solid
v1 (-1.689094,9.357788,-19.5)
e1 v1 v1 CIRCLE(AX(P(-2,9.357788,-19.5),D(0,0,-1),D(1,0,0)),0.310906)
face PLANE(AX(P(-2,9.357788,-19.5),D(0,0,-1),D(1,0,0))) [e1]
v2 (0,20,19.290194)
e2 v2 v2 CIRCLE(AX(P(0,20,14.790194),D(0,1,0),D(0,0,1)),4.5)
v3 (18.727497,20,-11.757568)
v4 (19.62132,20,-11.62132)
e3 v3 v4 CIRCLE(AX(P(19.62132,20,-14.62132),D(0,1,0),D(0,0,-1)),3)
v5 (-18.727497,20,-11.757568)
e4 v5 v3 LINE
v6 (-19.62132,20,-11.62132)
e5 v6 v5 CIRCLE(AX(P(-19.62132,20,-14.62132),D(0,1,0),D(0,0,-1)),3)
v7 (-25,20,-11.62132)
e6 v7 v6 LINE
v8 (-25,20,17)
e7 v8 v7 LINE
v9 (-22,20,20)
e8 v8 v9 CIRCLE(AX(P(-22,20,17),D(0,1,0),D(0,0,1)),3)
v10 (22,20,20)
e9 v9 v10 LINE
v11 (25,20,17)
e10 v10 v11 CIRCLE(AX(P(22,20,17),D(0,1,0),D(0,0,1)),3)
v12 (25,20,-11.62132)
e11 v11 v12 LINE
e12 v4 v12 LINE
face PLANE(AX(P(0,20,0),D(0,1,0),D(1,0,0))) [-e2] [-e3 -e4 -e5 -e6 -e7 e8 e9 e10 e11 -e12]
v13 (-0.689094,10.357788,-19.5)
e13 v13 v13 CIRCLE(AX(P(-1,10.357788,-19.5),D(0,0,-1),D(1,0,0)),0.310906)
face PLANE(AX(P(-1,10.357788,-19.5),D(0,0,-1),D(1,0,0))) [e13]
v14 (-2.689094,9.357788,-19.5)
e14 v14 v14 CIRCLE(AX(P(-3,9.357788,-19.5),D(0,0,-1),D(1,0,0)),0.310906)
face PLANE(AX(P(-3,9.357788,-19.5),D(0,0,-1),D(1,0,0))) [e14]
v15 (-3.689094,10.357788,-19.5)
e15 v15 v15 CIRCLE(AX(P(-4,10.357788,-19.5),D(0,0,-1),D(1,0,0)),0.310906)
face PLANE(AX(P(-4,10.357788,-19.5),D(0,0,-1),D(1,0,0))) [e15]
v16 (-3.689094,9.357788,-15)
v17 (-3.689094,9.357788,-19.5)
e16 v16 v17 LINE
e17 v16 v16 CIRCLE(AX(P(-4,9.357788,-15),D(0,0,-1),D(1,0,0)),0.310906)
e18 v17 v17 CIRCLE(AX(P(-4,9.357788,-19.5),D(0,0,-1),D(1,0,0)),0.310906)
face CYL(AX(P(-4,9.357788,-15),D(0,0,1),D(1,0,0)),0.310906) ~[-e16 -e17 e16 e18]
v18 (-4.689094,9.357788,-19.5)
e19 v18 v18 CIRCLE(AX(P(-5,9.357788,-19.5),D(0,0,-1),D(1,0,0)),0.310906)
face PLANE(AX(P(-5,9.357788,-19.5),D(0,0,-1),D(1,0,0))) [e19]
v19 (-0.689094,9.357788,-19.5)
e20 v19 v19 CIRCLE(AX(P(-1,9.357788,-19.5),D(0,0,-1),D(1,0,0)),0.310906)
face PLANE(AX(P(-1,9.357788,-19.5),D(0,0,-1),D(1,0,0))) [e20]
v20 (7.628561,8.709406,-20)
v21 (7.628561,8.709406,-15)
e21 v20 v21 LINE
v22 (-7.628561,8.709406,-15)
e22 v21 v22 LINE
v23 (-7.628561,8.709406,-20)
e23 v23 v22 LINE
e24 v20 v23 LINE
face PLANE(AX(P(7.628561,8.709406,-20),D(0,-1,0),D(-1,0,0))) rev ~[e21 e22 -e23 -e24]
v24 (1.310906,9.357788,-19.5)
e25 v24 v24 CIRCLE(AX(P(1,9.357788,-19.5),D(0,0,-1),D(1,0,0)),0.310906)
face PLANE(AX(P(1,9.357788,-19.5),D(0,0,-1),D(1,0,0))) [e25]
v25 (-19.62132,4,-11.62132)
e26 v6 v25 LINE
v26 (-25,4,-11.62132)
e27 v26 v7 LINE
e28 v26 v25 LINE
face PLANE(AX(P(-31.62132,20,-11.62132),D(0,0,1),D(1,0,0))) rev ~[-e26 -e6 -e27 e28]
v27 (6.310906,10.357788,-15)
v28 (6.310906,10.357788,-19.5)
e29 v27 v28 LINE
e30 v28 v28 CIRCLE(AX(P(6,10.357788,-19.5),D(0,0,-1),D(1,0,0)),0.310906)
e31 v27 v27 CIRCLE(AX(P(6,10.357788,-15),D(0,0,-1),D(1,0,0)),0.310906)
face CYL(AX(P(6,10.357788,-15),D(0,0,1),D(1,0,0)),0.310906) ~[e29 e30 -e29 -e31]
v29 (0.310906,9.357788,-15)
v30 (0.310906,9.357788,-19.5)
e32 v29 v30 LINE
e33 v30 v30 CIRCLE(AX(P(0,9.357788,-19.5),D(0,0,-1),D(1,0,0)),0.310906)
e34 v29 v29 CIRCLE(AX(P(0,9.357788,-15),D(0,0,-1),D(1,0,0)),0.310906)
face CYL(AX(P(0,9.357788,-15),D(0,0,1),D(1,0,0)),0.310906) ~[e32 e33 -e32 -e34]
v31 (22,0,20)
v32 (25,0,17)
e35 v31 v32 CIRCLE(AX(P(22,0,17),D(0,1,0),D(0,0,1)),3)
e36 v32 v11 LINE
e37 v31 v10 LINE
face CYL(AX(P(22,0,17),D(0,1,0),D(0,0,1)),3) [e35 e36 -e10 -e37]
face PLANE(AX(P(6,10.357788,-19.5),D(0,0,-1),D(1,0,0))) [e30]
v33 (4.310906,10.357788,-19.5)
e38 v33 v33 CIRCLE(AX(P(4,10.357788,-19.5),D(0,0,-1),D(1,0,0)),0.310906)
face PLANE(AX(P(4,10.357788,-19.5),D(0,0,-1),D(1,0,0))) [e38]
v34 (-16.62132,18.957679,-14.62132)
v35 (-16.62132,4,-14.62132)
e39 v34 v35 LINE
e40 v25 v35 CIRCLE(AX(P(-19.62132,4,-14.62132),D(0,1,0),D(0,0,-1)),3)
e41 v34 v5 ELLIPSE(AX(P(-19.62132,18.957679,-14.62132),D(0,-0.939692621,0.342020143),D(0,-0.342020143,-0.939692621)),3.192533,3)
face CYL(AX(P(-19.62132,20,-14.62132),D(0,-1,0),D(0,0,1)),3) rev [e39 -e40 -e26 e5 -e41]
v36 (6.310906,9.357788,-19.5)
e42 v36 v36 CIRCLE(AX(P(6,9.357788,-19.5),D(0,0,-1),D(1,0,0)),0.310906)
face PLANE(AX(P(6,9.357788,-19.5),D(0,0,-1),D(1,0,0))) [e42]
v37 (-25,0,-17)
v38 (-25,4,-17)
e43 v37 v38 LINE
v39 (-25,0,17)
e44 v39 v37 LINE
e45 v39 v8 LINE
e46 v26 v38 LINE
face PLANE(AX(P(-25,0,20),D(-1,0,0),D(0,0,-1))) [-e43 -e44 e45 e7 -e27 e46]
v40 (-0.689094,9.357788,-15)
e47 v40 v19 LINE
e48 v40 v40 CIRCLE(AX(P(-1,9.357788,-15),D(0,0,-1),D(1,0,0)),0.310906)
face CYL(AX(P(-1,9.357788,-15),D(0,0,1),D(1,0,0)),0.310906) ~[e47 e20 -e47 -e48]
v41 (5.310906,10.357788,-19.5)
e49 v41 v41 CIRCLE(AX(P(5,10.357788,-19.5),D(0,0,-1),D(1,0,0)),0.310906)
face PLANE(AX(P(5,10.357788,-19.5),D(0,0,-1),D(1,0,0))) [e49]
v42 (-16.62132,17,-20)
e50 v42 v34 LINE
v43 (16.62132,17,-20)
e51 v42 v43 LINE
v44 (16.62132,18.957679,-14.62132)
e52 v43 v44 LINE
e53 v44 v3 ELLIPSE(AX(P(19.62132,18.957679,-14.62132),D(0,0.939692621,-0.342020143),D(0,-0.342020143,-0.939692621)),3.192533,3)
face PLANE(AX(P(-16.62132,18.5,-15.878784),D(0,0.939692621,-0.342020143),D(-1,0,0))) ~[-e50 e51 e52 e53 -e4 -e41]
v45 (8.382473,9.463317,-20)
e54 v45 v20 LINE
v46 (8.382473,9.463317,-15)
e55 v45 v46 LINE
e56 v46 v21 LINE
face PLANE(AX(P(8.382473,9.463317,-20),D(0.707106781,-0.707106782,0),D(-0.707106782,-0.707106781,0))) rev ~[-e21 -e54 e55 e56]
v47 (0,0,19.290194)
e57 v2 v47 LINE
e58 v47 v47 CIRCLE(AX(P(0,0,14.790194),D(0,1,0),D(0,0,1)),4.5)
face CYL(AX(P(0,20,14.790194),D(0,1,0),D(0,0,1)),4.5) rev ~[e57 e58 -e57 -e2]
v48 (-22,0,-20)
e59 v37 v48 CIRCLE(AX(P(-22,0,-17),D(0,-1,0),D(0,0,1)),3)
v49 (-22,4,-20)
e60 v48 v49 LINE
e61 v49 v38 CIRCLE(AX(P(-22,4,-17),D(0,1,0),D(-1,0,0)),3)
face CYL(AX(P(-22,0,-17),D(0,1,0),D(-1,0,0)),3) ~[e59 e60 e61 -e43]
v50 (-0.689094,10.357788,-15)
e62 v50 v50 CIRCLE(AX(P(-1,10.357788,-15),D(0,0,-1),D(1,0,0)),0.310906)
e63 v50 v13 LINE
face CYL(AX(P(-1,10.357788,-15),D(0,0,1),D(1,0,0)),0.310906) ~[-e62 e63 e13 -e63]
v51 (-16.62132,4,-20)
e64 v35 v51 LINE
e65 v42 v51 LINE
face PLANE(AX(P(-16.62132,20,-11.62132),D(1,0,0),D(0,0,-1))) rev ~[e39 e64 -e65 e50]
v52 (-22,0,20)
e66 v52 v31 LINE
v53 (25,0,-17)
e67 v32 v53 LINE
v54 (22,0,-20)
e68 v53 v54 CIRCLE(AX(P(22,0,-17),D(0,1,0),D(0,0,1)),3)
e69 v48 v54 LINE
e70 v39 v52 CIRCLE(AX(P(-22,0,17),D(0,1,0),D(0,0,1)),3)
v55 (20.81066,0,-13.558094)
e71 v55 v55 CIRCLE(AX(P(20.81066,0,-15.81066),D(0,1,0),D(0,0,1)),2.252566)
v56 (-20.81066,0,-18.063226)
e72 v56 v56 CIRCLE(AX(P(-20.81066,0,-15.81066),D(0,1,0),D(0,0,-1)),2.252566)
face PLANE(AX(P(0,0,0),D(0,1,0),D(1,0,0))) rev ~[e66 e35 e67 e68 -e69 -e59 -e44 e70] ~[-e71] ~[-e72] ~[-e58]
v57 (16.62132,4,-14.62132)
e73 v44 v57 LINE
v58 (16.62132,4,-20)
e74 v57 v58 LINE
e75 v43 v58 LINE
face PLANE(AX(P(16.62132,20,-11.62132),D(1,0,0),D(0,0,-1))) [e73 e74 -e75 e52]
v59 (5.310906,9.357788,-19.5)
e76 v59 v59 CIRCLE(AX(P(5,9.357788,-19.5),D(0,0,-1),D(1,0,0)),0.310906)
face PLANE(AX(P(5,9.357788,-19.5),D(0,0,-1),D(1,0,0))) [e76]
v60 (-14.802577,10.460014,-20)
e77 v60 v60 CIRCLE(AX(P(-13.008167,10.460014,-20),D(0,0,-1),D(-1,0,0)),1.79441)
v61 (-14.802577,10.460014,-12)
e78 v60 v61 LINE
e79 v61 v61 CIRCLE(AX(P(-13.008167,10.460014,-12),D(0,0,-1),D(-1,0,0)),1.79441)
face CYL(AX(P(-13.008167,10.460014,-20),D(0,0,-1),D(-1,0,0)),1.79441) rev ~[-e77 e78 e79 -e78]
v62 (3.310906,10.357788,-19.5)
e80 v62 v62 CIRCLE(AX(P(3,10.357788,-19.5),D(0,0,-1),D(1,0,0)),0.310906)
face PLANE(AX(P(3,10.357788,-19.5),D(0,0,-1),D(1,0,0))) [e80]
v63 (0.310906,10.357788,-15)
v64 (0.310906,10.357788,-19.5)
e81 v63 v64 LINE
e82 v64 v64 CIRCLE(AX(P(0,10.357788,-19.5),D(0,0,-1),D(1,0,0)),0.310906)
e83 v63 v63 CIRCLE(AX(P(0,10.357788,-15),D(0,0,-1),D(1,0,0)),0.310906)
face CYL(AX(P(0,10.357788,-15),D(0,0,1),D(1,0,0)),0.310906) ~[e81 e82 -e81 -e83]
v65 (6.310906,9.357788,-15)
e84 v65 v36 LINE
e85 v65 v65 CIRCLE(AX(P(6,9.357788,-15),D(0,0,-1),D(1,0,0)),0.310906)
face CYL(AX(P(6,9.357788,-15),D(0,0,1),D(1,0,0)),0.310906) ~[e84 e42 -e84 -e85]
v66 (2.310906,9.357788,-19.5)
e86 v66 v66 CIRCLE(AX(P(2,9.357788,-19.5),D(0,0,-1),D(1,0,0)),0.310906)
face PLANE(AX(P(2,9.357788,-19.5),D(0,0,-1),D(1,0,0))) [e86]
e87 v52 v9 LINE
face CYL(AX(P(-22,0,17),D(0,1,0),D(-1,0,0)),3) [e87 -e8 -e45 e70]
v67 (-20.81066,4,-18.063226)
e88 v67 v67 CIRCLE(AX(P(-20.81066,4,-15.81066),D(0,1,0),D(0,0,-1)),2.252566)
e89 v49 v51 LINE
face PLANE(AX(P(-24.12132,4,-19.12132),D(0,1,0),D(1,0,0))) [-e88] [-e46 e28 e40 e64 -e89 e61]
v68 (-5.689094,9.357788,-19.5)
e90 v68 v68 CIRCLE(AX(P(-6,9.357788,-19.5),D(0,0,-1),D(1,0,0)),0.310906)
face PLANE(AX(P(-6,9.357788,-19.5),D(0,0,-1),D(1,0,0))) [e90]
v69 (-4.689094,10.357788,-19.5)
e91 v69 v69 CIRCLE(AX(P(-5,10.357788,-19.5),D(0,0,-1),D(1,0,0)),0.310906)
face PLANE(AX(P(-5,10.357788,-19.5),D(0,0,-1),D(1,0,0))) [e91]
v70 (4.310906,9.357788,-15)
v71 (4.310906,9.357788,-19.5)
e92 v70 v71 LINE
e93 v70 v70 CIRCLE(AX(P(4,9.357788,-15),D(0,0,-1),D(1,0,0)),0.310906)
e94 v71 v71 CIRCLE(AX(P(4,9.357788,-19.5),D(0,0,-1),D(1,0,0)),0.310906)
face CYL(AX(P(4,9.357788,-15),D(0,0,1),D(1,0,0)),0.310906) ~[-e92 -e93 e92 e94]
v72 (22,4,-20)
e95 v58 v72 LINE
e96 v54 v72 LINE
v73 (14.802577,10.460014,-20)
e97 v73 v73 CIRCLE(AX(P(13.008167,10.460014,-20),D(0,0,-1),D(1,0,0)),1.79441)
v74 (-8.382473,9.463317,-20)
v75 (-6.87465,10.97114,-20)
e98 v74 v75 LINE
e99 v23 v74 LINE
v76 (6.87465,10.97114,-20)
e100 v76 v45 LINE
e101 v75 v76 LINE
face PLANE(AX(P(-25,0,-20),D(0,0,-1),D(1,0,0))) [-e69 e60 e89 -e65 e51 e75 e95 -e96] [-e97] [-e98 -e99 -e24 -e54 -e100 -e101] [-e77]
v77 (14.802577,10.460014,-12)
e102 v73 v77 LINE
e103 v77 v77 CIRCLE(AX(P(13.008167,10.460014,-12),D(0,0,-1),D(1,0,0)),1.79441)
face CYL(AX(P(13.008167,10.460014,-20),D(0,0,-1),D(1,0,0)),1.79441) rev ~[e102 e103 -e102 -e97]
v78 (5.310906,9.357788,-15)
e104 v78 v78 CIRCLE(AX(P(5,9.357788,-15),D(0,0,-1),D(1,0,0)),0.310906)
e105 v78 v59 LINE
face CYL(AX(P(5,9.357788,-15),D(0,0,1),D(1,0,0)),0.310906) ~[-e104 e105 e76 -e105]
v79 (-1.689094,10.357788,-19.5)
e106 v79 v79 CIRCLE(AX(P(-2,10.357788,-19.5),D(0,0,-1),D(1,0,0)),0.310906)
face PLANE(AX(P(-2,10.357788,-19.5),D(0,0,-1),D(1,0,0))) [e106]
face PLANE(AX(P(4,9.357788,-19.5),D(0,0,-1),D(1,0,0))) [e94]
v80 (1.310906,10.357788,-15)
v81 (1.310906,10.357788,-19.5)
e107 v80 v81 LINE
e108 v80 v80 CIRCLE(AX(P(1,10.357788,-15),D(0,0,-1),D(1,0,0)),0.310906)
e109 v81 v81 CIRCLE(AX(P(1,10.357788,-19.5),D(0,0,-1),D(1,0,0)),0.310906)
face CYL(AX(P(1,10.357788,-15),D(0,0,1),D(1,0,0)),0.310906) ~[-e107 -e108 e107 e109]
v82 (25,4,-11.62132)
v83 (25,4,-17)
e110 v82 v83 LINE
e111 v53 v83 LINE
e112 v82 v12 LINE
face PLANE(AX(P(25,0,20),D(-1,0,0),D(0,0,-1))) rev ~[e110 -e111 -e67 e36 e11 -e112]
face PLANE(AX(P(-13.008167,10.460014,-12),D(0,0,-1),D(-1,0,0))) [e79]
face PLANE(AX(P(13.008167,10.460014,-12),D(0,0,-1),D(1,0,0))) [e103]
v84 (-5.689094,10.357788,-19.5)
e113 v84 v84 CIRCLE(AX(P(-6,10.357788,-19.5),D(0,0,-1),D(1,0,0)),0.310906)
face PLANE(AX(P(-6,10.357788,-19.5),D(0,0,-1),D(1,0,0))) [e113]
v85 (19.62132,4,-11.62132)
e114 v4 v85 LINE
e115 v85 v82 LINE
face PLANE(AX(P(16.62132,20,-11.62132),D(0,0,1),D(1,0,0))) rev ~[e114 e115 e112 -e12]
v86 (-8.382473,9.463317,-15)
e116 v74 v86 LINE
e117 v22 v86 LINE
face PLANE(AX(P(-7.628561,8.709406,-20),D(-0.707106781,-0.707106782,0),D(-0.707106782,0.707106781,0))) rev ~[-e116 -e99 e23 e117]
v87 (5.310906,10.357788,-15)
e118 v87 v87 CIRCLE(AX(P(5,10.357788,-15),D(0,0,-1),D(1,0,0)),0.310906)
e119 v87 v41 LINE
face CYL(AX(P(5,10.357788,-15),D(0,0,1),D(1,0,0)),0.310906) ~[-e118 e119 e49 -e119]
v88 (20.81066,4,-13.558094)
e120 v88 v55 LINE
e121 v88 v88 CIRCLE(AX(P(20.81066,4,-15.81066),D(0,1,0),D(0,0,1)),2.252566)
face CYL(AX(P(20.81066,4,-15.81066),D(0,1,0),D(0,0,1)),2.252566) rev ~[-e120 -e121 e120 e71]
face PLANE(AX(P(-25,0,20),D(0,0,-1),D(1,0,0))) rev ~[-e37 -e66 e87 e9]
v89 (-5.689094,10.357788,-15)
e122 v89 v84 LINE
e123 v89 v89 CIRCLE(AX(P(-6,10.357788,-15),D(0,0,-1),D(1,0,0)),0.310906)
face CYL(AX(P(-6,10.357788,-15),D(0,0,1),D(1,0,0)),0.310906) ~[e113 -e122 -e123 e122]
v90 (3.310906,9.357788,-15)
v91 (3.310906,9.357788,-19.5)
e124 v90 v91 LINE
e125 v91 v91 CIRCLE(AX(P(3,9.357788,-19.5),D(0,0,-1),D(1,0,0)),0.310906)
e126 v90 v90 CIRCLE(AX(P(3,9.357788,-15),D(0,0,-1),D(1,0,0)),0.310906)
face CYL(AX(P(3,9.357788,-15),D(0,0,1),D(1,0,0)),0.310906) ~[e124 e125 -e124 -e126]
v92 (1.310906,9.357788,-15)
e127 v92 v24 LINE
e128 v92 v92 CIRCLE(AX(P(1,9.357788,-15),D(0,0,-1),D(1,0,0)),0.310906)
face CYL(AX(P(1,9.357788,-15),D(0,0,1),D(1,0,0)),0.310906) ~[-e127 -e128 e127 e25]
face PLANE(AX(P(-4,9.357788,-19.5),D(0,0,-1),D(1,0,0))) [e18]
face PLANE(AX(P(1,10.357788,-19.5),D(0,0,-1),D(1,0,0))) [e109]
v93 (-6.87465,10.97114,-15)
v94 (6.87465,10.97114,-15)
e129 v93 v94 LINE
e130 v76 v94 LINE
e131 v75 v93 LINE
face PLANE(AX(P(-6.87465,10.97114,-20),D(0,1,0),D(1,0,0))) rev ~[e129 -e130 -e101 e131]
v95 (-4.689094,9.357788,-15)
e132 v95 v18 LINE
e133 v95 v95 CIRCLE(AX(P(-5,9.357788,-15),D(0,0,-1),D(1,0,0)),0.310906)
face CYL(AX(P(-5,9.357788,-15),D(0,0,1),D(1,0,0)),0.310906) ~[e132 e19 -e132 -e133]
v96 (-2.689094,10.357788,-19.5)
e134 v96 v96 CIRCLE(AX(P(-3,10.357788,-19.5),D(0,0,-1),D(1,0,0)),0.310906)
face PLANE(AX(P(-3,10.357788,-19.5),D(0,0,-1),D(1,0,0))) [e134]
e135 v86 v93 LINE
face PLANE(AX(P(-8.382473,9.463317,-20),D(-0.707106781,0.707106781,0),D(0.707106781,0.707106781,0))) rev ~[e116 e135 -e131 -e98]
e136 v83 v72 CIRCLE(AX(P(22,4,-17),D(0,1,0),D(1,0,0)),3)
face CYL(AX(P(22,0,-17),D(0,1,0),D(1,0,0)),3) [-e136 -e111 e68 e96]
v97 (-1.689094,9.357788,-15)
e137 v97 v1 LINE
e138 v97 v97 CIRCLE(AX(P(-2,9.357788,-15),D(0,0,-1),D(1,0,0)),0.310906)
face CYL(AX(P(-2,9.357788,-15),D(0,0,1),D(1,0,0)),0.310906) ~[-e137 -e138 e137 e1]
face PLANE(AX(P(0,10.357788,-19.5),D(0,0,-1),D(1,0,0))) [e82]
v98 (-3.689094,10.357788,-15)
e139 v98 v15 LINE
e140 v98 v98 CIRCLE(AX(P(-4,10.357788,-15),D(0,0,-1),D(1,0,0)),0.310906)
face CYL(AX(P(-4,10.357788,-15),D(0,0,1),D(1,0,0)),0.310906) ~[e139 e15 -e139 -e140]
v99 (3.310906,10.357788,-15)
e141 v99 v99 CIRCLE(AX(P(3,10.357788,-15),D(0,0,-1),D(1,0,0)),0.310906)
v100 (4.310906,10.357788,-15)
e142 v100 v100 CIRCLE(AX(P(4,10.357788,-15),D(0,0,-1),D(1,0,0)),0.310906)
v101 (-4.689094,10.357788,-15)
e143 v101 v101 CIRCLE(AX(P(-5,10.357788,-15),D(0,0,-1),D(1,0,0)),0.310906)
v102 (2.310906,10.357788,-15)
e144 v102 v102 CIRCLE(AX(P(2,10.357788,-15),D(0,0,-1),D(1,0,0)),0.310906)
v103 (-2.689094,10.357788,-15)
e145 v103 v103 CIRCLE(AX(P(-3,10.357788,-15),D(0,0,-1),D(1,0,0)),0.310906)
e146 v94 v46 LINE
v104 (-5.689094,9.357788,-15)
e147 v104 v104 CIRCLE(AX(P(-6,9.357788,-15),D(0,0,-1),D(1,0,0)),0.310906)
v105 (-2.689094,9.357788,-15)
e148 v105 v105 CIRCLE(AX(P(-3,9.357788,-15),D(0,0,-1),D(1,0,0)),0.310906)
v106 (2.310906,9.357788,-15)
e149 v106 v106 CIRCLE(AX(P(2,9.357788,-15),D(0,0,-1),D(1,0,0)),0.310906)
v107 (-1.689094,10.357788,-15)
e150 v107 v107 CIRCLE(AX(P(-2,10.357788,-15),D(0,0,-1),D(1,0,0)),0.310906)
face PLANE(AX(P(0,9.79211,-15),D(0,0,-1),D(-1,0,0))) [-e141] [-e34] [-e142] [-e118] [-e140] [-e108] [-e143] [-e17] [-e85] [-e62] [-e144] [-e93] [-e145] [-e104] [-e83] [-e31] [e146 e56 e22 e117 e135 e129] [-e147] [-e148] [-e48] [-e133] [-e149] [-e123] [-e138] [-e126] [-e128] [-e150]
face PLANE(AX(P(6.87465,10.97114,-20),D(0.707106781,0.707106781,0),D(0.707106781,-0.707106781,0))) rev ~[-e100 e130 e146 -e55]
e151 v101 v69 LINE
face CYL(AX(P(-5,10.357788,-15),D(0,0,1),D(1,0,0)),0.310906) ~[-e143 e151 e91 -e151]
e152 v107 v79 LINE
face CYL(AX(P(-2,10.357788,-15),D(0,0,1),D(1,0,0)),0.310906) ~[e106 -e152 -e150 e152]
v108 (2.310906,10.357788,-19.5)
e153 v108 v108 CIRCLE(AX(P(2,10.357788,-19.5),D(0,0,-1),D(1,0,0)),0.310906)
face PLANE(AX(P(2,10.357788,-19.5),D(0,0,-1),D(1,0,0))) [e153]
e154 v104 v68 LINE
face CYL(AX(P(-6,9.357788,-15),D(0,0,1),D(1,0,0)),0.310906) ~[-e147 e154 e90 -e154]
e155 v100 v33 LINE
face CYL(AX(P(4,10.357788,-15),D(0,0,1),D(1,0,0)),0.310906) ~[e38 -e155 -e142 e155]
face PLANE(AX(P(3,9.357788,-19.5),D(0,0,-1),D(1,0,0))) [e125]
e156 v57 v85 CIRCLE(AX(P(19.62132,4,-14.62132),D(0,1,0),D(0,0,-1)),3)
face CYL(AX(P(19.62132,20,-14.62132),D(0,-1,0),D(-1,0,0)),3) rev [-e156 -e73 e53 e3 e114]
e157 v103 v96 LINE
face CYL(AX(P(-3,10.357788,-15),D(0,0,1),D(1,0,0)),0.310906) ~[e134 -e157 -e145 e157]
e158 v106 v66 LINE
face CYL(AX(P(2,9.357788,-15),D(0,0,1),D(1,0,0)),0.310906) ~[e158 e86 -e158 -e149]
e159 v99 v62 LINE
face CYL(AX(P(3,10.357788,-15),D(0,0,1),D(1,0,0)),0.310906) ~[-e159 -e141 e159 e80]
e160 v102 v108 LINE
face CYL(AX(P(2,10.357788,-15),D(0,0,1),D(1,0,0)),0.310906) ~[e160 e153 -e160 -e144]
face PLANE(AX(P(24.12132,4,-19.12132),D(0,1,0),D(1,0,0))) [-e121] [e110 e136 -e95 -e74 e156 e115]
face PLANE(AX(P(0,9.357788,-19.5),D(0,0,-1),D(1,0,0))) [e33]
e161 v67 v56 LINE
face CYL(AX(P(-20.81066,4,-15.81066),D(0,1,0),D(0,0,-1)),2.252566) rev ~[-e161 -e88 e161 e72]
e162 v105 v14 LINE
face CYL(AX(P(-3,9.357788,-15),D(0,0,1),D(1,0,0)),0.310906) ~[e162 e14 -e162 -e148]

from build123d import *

# Parameters (mm, degrees)
SKETCH1_W           = 50
SKETCH1_H           = 40
BOSS_EXTRUDE1_DEPTH = 20
FILLET1_R           = 3
SKETCH2_W           = 15
SKETCH2_H           = 15
CUT_EXTRUDE1_DEPTH  = 16
SKETCH3_R           = 2.252565919
CUT_EXTRUDE2_DEPTH  = 16
FILLET2_R           = 3
CHAMFER1_SIZE       = 3
CHAMFER1_SIZE2      = 8.242432258
SKETCH4_R           = 4.5
CUT_EXTRUDE3_DEPTH  = 38.749172176
CUT_EXTRUDE4_DEPTH  = 5
SKETCH6_R           = 1.794410379
CUT_EXTRUDE5_DEPTH  = 8
SKETCH7_R           = 0.310906048
BOSS_EXTRUDE2_DEPTH = 4.5


with BuildPart() as part:
    # Sketch1 → Boss-Extrude1 (new body)
    with BuildSketch(Plane(origin=(0, 0, 0), x_dir=(1, 0, 0), z_dir=(0, 1, 0))):
        Rectangle(SKETCH1_W, SKETCH1_H)
    extrude(amount=BOSS_EXTRUDE1_DEPTH)

    # Fillet1
    fillet1_edges = [part.edges().sort_by_distance(p)[0] for p in [
        (25, 10, 20),
        (-25, 10, 20),
        (-25, 10, -20),
        (25, 10, -20),
    ]]
    fillet(fillet1_edges, radius=FILLET1_R)

    # Sketch2 → Cut-Extrude1 (cut)
    with BuildSketch(Plane(origin=(0, 20, 0), x_dir=(1, 0, 0), z_dir=(0, 1, 0))):
        with Locations((-24.121320344, 19.121320344)):
            Rectangle(SKETCH2_W, SKETCH2_H)
        with Locations((24.121320344, 19.121320344)):
            Rectangle(SKETCH2_W, SKETCH2_H)
    extrude(amount=-CUT_EXTRUDE1_DEPTH, mode=Mode.SUBTRACT)

    # Sketch3 → Cut-Extrude2 (cut)
    with BuildSketch(Plane(origin=(0, 4, 0), x_dir=(1, 0, 0), z_dir=(0, 1, 0))):
        with Locations(Location((20.810660172, 15.810660172, 0), (0, 0, 270))):
            Circle(SKETCH3_R)
        with Locations(Location((-20.810660172, 15.810660172, 0), (0, 0, 90))):
            Circle(SKETCH3_R)
    extrude(amount=-CUT_EXTRUDE2_DEPTH, mode=Mode.SUBTRACT)

    # Fillet2
    fillet2_edges = [part.edges().sort_by_distance(p)[0] for p in [
        (-16.621320344, 12, -11.621320344),
        (16.621320344, 12, -11.621320344),
    ]]
    fillet(fillet2_edges, radius=FILLET2_R)

    # Chamfer1
    chamfer1_edges = [part.edges().sort_by_distance(p)[0] for p in [
        (0, 20, -20),
    ]]
    chamfer1_side = [part.faces().sort_by_distance(p)[0] for p in [
        (0, 9.513710794, -20),
    ]]
    chamfer(chamfer1_edges, length=CHAMFER1_SIZE, length2=CHAMFER1_SIZE2, reference=chamfer1_side[0])

    # Sketch4 → Cut-Extrude3 (cut, through all)
    with BuildSketch(Plane(origin=(0, 20, 0), x_dir=(1, 0, 0), z_dir=(0, 1, 0))):
        with Locations(Location((0, -14.79019389, 0), (0, 0, 270))):
            Circle(SKETCH4_R)
    extrude(amount=-CUT_EXTRUDE3_DEPTH, mode=Mode.SUBTRACT)

    # Sketch5 → Cut-Extrude4 (cut)
    with BuildSketch(Plane(origin=(0, 0, -20), x_dir=(-1, 0, 0), z_dir=(0, 0, -1))):
        Polygon((6.87465001, 10.97114015), (-6.87465001, 10.97114015), (-8.382472875, 9.463317285), (-7.628561442, 8.709405853), (7.628561442, 8.709405853), (8.382472875, 9.463317285), align=None)
    extrude(amount=-CUT_EXTRUDE4_DEPTH, mode=Mode.SUBTRACT)

    # Sketch6 → Cut-Extrude5 (cut)
    with BuildSketch(Plane(origin=(0, 0, -20), x_dir=(-1, 0, 0), z_dir=(0, 0, -1))):
        with Locations((13.008166747, 10.460013755)):
            Circle(SKETCH6_R)
        with Locations(Location((-13.008166747, 10.460013755, 0), (0, 0, 180))):
            Circle(SKETCH6_R)
    extrude(amount=-CUT_EXTRUDE5_DEPTH, mode=Mode.SUBTRACT)

    # Sketch7 → Boss-Extrude2 (add)
    with BuildSketch(Plane(origin=(0, 0, -15), x_dir=(-1, 0, 0), z_dir=(0, 0, -1))):
        with Locations(Location((0, 10.357788476, 0), (0, 0, 180))):
            Circle(SKETCH7_R)
        with Locations(Location((1, 10.357788476, 0), (0, 0, 180))):
            Circle(SKETCH7_R)
        with Locations(Location((2, 10.357788476, 0), (0, 0, 180))):
            Circle(SKETCH7_R)
        with Locations(Location((3, 10.357788476, 0), (0, 0, 180))):
            Circle(SKETCH7_R)
        with Locations(Location((4, 10.357788476, 0), (0, 0, 180))):
            Circle(SKETCH7_R)
        with Locations(Location((5, 10.357788476, 0), (0, 0, 180))):
            Circle(SKETCH7_R)
        with Locations(Location((6, 10.357788476, 0), (0, 0, 180))):
            Circle(SKETCH7_R)
        with Locations(Location((1, 9.357788476, 0), (0, 0, 180))):
            Circle(SKETCH7_R)
        with Locations(Location((2, 9.357788476, 0), (0, 0, 180))):
            Circle(SKETCH7_R)
        with Locations(Location((3, 9.357788476, 0), (0, 0, 180))):
            Circle(SKETCH7_R)
        with Locations(Location((4, 9.357788476, 0), (0, 0, 180))):
            Circle(SKETCH7_R)
        with Locations(Location((5, 9.357788476, 0), (0, 0, 180))):
            Circle(SKETCH7_R)
        with Locations(Location((6, 9.357788476, 0), (0, 0, 180))):
            Circle(SKETCH7_R)
        with Locations(Location((0, 9.357788476, 0), (0, 0, 180))):
            Circle(SKETCH7_R)
        with Locations(Location((-6, 9.357788476, 0), (0, 0, 180))):
            Circle(SKETCH7_R)
        with Locations(Location((-5, 9.357788476, 0), (0, 0, 180))):
            Circle(SKETCH7_R)
        with Locations(Location((-4, 9.357788476, 0), (0, 0, 180))):
            Circle(SKETCH7_R)
        with Locations(Location((-3, 9.357788476, 0), (0, 0, 180))):
            Circle(SKETCH7_R)
        with Locations(Location((-2, 9.357788476, 0), (0, 0, 180))):
            Circle(SKETCH7_R)
        with Locations(Location((-1, 9.357788476, 0), (0, 0, 180))):
            Circle(SKETCH7_R)
        with Locations(Location((-6, 10.357788476, 0), (0, 0, 180))):
            Circle(SKETCH7_R)
        with Locations(Location((-5, 10.357788476, 0), (0, 0, 180))):
            Circle(SKETCH7_R)
        with Locations(Location((-4, 10.357788476, 0), (0, 0, 180))):
            Circle(SKETCH7_R)
        with Locations(Location((-3, 10.357788476, 0), (0, 0, 180))):
            Circle(SKETCH7_R)
        with Locations(Location((-2, 10.357788476, 0), (0, 0, 180))):
            Circle(SKETCH7_R)
        with Locations(Location((-1, 10.357788476, 0), (0, 0, 180))):
            Circle(SKETCH7_R)
    extrude(amount=BOSS_EXTRUDE2_DEPTH)


solid = part.part
